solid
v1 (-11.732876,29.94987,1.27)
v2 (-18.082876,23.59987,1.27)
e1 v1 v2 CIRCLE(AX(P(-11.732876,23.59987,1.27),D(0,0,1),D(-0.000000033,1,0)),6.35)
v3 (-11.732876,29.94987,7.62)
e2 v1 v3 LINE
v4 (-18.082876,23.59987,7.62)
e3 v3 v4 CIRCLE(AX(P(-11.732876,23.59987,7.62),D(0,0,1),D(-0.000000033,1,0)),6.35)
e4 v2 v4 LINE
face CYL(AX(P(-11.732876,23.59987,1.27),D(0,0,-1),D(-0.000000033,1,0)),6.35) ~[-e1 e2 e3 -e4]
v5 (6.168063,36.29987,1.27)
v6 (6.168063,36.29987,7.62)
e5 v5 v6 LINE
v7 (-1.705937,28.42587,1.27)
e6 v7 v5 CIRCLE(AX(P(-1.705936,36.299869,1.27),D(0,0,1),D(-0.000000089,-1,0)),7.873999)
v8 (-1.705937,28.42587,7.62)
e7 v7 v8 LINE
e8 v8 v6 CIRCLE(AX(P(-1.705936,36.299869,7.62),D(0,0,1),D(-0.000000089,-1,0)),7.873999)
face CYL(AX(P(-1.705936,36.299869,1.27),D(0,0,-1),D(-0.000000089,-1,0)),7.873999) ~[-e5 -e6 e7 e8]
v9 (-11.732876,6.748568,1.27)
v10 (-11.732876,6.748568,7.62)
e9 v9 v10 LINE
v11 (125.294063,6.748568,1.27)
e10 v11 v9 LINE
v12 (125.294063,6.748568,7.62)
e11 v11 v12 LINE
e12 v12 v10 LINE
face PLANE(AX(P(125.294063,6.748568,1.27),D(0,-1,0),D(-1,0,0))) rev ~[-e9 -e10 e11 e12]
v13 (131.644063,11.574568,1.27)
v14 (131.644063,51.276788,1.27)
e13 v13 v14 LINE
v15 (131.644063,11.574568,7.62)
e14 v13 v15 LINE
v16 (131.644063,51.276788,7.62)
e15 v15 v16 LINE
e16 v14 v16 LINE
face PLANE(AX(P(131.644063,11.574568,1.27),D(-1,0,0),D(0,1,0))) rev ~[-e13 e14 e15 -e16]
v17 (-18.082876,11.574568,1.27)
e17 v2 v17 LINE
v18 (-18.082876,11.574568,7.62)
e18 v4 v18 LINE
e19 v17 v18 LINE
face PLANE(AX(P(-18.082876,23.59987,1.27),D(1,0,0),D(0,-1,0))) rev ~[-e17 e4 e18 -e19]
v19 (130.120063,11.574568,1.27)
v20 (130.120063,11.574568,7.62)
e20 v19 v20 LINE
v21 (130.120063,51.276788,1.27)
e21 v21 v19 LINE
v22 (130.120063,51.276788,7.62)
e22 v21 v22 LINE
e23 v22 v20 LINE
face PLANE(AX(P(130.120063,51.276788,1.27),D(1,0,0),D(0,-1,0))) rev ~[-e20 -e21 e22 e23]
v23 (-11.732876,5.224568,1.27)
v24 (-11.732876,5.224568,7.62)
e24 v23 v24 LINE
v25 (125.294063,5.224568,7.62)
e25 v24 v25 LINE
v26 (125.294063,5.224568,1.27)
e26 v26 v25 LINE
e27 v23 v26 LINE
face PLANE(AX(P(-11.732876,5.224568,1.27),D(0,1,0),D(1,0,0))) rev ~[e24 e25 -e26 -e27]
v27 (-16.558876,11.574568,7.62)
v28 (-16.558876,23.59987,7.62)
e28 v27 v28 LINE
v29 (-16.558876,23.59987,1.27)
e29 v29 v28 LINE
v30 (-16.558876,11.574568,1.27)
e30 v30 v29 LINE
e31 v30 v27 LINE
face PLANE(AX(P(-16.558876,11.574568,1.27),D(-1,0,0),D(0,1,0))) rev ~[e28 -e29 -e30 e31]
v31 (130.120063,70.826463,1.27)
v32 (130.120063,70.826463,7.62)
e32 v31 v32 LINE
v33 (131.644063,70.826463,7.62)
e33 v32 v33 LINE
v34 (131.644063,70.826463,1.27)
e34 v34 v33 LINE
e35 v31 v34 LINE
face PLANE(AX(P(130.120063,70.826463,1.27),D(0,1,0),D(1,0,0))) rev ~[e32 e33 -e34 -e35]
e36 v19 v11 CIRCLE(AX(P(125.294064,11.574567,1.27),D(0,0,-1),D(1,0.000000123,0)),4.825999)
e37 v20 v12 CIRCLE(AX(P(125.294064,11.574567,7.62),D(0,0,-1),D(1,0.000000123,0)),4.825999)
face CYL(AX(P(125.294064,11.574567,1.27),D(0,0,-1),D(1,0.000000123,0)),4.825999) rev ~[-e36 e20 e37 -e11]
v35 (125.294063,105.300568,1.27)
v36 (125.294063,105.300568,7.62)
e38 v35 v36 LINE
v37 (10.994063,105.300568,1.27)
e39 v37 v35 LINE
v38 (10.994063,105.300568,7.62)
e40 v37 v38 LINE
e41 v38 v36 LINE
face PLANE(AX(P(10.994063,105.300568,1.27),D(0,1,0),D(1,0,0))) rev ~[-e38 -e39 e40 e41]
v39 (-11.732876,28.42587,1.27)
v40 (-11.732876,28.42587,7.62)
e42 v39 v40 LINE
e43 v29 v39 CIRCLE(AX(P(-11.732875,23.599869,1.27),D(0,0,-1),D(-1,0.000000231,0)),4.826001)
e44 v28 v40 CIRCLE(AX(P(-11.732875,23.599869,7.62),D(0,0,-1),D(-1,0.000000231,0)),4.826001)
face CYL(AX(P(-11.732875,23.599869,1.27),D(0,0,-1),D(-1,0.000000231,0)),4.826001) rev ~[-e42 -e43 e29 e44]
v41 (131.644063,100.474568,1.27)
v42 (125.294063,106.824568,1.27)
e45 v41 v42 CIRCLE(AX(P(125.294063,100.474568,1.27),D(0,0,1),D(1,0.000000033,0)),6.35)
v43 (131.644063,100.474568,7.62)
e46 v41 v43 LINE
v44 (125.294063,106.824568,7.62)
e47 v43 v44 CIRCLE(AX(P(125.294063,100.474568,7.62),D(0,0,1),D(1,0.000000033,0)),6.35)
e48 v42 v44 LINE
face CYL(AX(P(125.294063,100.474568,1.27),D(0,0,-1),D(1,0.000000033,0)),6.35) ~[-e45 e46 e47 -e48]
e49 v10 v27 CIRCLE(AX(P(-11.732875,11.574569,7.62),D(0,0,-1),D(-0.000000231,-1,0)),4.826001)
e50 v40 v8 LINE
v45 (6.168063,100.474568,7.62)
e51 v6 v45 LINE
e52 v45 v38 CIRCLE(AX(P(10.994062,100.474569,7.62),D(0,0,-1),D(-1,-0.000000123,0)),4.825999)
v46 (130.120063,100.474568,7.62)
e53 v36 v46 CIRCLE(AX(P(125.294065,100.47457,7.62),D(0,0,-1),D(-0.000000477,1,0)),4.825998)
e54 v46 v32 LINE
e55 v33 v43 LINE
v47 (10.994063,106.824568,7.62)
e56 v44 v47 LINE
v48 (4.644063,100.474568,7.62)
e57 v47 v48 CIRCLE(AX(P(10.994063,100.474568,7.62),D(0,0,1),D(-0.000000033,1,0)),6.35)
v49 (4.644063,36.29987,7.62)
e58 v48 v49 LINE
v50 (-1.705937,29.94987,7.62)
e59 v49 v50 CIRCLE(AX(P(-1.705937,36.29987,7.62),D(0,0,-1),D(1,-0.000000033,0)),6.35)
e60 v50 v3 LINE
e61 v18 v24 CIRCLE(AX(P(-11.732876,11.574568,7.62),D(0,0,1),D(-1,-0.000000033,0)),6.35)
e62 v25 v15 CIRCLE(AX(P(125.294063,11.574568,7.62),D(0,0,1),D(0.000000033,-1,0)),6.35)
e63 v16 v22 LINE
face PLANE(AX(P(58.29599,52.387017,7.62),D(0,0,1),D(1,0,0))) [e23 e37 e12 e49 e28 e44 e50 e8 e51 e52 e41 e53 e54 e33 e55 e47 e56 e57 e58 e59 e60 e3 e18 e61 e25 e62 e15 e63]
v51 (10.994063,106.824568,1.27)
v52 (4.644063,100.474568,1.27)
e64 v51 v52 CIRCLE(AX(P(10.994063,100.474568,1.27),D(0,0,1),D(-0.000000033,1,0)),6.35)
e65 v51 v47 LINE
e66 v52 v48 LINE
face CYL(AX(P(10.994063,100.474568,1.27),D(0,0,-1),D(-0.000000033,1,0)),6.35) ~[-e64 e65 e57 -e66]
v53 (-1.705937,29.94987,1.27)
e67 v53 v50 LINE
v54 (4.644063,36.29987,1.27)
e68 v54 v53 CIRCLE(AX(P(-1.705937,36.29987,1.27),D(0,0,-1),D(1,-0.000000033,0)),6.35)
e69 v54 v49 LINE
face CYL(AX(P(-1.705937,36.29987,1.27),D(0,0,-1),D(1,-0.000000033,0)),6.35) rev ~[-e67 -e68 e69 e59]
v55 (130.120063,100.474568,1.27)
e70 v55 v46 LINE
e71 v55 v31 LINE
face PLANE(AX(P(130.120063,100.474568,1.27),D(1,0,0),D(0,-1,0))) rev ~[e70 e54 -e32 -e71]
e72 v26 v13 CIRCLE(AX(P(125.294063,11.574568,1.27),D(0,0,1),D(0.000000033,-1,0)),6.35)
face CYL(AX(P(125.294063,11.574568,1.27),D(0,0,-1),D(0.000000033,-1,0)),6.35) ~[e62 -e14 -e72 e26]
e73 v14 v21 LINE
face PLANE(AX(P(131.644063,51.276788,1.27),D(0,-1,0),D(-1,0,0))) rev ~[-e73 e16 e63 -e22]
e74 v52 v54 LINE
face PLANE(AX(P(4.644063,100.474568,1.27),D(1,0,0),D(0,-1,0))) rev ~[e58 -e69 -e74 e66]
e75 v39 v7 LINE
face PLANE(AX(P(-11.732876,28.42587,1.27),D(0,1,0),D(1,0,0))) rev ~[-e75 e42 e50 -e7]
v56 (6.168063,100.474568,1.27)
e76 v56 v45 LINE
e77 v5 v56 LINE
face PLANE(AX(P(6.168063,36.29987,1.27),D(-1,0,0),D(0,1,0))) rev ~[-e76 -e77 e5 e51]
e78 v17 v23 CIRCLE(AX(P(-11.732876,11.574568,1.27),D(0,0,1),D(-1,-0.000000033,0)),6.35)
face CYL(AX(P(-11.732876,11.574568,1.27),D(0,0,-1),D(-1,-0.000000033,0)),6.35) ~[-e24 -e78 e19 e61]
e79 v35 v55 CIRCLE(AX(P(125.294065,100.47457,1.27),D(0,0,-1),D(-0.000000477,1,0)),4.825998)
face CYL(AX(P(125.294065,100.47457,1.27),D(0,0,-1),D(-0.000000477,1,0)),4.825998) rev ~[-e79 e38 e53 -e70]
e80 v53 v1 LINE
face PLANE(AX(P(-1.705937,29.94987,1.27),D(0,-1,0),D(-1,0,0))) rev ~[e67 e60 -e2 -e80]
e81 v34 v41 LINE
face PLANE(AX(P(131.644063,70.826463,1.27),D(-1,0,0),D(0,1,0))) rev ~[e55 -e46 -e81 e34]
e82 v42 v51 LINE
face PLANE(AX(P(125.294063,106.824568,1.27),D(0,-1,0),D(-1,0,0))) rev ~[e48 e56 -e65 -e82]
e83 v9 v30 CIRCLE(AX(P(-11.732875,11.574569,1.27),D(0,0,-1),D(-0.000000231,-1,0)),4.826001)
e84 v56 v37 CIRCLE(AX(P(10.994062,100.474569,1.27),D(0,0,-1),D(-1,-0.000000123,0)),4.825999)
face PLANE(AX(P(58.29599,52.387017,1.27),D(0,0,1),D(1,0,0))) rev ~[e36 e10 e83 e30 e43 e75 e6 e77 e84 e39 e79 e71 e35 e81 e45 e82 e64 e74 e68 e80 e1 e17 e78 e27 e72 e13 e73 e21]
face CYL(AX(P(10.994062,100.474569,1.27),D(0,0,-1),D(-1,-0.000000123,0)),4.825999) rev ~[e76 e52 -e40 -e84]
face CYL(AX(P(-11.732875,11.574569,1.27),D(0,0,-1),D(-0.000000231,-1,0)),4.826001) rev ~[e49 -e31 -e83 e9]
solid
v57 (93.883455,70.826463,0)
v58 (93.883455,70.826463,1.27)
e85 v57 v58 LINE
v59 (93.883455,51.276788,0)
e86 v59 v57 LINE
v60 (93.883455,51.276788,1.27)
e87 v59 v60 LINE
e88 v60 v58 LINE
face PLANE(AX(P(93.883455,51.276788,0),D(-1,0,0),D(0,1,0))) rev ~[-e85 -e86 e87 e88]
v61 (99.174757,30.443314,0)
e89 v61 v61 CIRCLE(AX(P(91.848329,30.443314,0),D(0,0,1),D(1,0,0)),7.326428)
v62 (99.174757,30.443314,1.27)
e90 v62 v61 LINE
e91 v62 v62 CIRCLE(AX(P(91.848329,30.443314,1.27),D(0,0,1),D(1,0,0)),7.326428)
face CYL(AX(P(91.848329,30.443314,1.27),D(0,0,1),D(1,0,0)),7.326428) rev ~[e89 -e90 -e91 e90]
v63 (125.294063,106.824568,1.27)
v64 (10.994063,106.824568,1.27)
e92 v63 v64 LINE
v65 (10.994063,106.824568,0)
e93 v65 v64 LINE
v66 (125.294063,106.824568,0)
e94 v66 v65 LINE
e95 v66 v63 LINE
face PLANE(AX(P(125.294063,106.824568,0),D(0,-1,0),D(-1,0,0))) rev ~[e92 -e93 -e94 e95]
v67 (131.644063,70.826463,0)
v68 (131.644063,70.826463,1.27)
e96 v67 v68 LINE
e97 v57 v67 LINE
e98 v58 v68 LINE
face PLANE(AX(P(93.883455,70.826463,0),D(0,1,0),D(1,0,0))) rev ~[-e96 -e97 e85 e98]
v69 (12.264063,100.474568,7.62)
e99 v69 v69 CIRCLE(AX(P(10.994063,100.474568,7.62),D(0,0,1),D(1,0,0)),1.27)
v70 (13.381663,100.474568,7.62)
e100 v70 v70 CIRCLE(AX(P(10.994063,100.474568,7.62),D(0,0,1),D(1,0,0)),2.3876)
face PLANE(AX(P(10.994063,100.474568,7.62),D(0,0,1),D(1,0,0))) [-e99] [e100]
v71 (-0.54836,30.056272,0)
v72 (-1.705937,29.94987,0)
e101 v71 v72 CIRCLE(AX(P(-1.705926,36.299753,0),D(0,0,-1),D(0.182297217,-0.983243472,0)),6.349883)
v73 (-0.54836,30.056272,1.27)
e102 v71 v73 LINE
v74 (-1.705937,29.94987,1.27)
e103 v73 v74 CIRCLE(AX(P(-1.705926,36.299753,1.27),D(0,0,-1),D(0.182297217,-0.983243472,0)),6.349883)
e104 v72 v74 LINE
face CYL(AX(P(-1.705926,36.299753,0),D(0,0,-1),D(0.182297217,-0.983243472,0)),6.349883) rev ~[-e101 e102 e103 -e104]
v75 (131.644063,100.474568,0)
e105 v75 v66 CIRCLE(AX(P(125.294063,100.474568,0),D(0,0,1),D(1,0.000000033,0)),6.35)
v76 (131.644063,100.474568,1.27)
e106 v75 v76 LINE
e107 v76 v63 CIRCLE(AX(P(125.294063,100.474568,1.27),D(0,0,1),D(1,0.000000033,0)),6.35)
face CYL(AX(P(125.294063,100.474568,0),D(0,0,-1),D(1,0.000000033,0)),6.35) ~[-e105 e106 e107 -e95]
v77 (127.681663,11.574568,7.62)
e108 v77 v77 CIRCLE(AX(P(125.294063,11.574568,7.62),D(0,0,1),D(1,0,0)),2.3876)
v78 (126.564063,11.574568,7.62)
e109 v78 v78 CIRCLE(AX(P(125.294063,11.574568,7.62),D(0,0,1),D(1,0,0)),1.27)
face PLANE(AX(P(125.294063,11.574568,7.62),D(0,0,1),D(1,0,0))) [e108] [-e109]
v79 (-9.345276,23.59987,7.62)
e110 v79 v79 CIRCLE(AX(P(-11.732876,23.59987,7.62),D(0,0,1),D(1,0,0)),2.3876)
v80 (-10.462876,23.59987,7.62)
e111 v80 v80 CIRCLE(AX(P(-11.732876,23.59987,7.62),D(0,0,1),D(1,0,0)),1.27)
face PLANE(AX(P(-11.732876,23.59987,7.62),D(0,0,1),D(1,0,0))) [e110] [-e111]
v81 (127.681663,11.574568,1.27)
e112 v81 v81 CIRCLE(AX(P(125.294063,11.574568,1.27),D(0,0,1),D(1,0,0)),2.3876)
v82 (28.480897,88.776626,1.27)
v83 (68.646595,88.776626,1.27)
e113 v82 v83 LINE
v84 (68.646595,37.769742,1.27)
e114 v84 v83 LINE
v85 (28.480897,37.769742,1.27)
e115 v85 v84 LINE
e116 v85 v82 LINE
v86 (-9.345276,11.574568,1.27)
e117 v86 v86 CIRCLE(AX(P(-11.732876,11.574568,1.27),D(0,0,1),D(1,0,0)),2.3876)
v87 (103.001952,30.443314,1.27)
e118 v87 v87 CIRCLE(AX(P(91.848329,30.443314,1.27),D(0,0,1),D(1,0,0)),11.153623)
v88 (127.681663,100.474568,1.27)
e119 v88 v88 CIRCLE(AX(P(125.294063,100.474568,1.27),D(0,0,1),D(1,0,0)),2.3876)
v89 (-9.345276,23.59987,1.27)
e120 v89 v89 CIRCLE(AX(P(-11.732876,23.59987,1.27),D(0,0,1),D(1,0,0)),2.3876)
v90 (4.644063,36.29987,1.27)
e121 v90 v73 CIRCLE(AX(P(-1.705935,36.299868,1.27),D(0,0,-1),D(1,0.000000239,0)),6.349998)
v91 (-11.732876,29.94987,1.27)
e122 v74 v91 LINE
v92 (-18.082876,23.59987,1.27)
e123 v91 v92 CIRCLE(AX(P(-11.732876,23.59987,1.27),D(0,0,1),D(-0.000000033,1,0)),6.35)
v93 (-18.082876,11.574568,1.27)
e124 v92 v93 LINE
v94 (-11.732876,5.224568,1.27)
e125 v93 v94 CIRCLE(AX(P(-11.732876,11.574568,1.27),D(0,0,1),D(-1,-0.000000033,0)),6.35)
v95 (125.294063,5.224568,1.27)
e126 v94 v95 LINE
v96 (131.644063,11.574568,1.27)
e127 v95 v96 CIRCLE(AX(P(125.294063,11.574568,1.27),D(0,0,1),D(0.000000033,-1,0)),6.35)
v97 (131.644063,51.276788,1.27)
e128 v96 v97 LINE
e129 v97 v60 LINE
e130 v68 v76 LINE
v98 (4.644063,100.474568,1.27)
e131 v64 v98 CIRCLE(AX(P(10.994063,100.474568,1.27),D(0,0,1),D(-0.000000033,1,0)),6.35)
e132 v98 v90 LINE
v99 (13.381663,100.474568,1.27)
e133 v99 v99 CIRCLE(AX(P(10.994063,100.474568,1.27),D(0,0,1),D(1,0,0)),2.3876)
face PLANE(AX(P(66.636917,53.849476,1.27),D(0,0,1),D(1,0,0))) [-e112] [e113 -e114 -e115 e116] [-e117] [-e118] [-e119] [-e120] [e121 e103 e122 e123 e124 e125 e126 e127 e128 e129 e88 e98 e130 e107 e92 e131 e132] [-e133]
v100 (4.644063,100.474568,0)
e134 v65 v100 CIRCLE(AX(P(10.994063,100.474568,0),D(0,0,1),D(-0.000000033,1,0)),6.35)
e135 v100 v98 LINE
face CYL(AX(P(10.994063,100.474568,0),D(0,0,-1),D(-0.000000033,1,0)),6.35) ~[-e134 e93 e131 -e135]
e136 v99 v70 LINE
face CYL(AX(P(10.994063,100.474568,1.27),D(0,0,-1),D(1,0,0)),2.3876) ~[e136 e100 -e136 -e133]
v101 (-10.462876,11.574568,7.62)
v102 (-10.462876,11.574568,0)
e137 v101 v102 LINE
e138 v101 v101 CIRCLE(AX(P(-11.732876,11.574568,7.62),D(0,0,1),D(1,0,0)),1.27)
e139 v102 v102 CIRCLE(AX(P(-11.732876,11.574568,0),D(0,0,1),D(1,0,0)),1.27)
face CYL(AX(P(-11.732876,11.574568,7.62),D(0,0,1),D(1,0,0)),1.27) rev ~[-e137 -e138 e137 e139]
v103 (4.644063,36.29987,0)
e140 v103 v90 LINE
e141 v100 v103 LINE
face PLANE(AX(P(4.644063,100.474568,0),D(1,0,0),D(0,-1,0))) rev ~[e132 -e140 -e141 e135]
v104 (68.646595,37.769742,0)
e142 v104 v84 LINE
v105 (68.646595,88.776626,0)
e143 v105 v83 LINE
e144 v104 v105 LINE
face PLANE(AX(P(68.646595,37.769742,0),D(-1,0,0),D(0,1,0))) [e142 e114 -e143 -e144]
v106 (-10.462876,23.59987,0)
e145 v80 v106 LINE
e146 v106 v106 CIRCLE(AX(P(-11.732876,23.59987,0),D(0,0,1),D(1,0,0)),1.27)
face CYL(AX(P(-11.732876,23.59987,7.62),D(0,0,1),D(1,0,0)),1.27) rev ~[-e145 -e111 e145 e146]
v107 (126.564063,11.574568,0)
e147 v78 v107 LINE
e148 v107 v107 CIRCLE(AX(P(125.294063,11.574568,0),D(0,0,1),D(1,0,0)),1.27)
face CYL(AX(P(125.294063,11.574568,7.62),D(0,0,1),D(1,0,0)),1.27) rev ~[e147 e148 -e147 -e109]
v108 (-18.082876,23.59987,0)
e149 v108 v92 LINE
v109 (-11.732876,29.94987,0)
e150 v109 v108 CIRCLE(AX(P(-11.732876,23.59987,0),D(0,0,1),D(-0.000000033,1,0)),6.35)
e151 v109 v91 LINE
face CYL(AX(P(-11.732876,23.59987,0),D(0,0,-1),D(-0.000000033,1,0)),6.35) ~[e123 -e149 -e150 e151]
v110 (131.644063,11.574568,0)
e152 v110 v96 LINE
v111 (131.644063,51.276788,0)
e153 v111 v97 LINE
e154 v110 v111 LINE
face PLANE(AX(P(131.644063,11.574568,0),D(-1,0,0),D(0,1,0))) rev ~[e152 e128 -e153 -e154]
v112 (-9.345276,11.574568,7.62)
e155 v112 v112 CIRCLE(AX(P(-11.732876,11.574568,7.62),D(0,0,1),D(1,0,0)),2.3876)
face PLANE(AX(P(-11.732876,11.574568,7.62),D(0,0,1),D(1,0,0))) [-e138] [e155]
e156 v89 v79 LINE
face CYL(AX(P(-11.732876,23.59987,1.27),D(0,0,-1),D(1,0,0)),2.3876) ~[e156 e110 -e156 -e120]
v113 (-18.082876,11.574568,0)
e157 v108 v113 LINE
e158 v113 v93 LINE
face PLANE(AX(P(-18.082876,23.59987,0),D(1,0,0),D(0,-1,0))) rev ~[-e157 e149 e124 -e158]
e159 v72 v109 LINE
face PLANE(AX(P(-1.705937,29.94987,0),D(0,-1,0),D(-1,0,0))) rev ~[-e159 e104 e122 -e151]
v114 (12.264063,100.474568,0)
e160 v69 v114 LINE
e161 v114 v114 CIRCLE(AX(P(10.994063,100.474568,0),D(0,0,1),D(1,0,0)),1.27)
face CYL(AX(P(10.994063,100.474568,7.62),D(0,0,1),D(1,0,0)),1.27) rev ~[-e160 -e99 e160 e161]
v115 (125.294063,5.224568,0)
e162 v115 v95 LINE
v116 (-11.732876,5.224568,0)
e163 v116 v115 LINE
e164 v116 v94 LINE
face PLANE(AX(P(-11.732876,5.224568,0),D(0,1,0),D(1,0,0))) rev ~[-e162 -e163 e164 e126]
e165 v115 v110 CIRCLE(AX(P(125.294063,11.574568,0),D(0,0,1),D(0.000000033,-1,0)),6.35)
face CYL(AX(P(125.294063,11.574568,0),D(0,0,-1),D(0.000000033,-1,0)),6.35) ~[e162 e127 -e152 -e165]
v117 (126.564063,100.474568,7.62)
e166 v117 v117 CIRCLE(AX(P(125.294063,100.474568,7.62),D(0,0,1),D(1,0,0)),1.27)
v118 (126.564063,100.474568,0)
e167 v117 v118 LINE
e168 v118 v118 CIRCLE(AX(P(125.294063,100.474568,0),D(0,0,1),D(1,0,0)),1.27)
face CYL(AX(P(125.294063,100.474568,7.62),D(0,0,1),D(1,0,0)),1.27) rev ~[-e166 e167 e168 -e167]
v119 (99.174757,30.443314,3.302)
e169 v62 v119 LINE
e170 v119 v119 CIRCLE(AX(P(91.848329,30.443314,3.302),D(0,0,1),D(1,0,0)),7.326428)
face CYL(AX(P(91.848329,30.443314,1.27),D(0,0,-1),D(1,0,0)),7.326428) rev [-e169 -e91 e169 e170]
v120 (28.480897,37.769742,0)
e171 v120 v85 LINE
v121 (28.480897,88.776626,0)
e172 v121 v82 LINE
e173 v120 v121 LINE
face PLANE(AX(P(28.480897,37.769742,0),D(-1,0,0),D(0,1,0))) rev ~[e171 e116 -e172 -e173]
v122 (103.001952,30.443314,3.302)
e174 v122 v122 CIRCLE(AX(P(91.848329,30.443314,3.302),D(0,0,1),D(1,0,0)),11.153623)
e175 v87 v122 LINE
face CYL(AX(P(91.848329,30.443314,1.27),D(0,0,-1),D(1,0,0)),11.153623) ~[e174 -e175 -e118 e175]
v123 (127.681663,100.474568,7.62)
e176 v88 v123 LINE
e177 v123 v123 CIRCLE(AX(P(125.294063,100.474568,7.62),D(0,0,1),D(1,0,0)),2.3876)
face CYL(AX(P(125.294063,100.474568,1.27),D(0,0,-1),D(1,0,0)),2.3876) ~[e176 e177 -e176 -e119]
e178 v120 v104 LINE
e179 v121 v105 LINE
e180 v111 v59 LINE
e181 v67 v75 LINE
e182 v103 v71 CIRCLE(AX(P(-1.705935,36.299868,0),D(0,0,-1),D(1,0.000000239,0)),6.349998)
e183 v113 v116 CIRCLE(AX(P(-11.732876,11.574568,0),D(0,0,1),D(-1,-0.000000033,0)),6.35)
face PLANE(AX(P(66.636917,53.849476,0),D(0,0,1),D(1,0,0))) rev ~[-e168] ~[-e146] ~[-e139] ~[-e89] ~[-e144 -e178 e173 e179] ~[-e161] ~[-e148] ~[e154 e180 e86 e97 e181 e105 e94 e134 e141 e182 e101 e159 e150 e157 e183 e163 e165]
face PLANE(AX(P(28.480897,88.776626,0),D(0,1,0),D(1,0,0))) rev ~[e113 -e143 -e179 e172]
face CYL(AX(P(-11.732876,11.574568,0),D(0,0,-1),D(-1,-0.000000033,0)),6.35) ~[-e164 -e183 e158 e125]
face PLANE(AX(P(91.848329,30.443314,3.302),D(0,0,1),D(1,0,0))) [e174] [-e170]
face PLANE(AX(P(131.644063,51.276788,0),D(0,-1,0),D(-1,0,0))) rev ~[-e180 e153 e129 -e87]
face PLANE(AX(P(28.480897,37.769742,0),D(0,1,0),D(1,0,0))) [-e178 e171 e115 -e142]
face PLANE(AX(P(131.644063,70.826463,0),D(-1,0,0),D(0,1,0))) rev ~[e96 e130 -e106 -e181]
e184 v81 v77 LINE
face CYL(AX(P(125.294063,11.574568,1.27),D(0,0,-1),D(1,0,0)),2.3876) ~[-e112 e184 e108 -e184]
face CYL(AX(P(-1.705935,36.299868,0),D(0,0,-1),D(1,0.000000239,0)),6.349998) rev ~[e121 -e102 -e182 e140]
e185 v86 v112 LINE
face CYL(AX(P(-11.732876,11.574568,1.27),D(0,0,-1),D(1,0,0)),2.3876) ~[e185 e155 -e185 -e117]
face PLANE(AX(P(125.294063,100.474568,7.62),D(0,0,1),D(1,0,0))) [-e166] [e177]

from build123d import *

# Parameters (mm, degrees)
F0_W      = 40.165698
F0_H      = 51.006884
F1_DEPTH  = 1.27
F3_DEPTH  = 6.35
F4_R      = 2.3876
F5_DEPTH  = 6.35
F6_R      = 1.27
F7_DEPTH  = 7.621
F8_R      = 11.153623
F8_R_2    = 7.326428
F9_DEPTH  = 2.032
F10_R     = 7.326428
F11_DEPTH = 1.271


with BuildPart() as f1:
    # F0 (on Top) → F1 (new body)
    with BuildSketch(Plane.XY):
        with BuildLine():
            Line((-11.732876, 5.224568), (4.644063, 5.224568))
            Line((4.644063, 5.224568), (125.294063, 5.224568))
            ThreePointArc((125.294063, 5.224568), (129.784191, 7.08444), (131.644063, 11.574568))
            Line((131.644063, 11.574568), (131.644063, 51.276788))
            Line((131.644063, 51.276788), (93.883455, 51.276788))
            Line((93.883455, 51.276788), (93.883455, 70.826463))
            Line((93.883455, 70.826463), (131.644063, 70.826463))
            Line((131.644063, 70.826463), (131.644063, 100.474568))
            ThreePointArc((131.644063, 100.474568), (129.784191, 104.964696), (125.294063, 106.824568))
            Line((125.294063, 106.824568), (10.994063, 106.824568))
            ThreePointArc((10.994063, 106.824568), (6.503935, 104.964696), (4.644063, 100.474568))
            Line((4.644063, 100.474568), (4.644063, 36.29987))
            ThreePointArc((4.644063, 36.29987), (3.176333, 32.239581), (-0.54836, 30.056272))
            ThreePointArc((-0.54836, 30.056272), (-1.124708, 29.976526), (-1.705937, 29.94987))
            Line((-1.705937, 29.94987), (-11.732876, 29.94987))
            ThreePointArc((-11.732876, 29.94987), (-16.223004, 28.089998), (-18.082876, 23.59987))
            Line((-18.082876, 23.59987), (-18.082876, 11.574568))
            ThreePointArc((-18.082876, 11.574568), (-16.223004, 7.08444), (-11.732876, 5.224568))
        make_face()
        with Locations((48.563746, 63.273184)):
            Rectangle(F0_W, F0_H, mode=Mode.SUBTRACT)
    extrude(amount=F1_DEPTH)

    # F4 (on face) → F5 (join)
    with BuildSketch(Plane.XY.offset(1.27)):
        with Locations((10.994063, 100.474568)):
            Circle(F4_R)
        with Locations((125.294063, 100.474568)):
            Circle(F4_R)
        with Locations((125.294063, 11.574568)):
            Circle(F4_R)
        with Locations((-11.732876, 23.59987)):
            Circle(F4_R)
        with Locations((-11.732876, 11.574568)):
            Circle(F4_R)
    extrude(amount=F5_DEPTH)

    # F6 (on face) → F7 (cut, through all)
    with BuildSketch(Plane.XY.offset(7.62)):
        with Locations((10.994063, 100.474568)):
            Circle(F6_R)
        with Locations((-11.732876, 23.59987)):
            Circle(F6_R)
        with Locations((-11.732876, 11.574568)):
            Circle(F6_R)
        with Locations((125.294063, 11.574568)):
            Circle(F6_R)
        with Locations((125.294063, 100.474568)):
            Circle(F6_R)
    extrude(amount=-F7_DEPTH, mode=Mode.SUBTRACT)

    # F8 (on face) → F9 (join)
    with BuildSketch(Plane.XY.offset(1.27)):
        with Locations((91.848329, 30.443314)):
            Circle(F8_R)
        with Locations((91.848329, 30.443314)):
            Circle(F8_R_2, mode=Mode.SUBTRACT)
    extrude(amount=F9_DEPTH)

    # F10 (on face) → F11 (cut, through all)
    with BuildSketch(Plane.XY.offset(1.27)):
        with Locations((91.848329, 30.443314)):
            Circle(F10_R)
    extrude(amount=-F11_DEPTH, mode=Mode.SUBTRACT)


with BuildPart() as f3:
    # F2 (on face) → F3 (new body)
    with BuildSketch(Plane.XY.offset(1.27)):
        with BuildLine():
            Line((130.120063, 51.276788), (130.120063, 11.574568))
            ThreePointArc((130.120063, 11.574568), (128.706561, 8.162071), (125.294063, 6.748568))
            Line((125.294063, 6.748568), (-11.732876, 6.748568))
            ThreePointArc((-11.732876, 6.748568), (-15.145373, 8.162071), (-16.558876, 11.574568))
            Line((-16.558876, 11.574568), (-16.558876, 23.59987))
            ThreePointArc((-16.558876, 23.59987), (-15.145373, 27.012367), (-11.732876, 28.42587))
            Line((-11.732876, 28.42587), (-1.705937, 28.42587))
            ThreePointArc((-1.705937, 28.42587), (3.861822, 30.732111), (6.168063, 36.29987))
            Line((6.168063, 36.29987), (6.168063, 100.474568))
            ThreePointArc((6.168063, 100.474568), (7.581566, 103.887066), (10.994063, 105.300568))
            Line((10.994063, 105.300568), (125.294063, 105.300568))
            ThreePointArc((125.294063, 105.300568), (128.706561, 103.887066), (130.120063, 100.474568))
            Line((130.120063, 100.474568), (130.120063, 70.826463))
            Line((130.120063, 70.826463), (131.644063, 70.826463))
            Line((131.644063, 70.826463), (131.644063, 100.474568))
            ThreePointArc((131.644063, 100.474568), (129.784191, 104.964696), (125.294063, 106.824568))
            Line((125.294063, 106.824568), (10.994063, 106.824568))
            ThreePointArc((10.994063, 106.824568), (6.503935, 104.964696), (4.644063, 100.474568))
            Line((4.644063, 100.474568), (4.644063, 36.29987))
            ThreePointArc((4.644063, 36.29987), (2.784191, 31.809742), (-1.705937, 29.94987))
            Line((-1.705937, 29.94987), (-11.732876, 29.94987))
            ThreePointArc((-11.732876, 29.94987), (-16.223004, 28.089998), (-18.082876, 23.59987))
            Line((-18.082876, 23.59987), (-18.082876, 11.574568))
            ThreePointArc((-18.082876, 11.574568), (-16.223004, 7.08444), (-11.732876, 5.224568))
            Line((-11.732876, 5.224568), (125.294063, 5.224568))
            ThreePointArc((125.294063, 5.224568), (129.784191, 7.08444), (131.644063, 11.574568))
            Line((131.644063, 11.574568), (131.644063, 51.276788))
            Line((131.644063, 51.276788), (130.120063, 51.276788))
        make_face()
    extrude(amount=F3_DEPTH)


solid = Compound([f1.part, f3.part])
